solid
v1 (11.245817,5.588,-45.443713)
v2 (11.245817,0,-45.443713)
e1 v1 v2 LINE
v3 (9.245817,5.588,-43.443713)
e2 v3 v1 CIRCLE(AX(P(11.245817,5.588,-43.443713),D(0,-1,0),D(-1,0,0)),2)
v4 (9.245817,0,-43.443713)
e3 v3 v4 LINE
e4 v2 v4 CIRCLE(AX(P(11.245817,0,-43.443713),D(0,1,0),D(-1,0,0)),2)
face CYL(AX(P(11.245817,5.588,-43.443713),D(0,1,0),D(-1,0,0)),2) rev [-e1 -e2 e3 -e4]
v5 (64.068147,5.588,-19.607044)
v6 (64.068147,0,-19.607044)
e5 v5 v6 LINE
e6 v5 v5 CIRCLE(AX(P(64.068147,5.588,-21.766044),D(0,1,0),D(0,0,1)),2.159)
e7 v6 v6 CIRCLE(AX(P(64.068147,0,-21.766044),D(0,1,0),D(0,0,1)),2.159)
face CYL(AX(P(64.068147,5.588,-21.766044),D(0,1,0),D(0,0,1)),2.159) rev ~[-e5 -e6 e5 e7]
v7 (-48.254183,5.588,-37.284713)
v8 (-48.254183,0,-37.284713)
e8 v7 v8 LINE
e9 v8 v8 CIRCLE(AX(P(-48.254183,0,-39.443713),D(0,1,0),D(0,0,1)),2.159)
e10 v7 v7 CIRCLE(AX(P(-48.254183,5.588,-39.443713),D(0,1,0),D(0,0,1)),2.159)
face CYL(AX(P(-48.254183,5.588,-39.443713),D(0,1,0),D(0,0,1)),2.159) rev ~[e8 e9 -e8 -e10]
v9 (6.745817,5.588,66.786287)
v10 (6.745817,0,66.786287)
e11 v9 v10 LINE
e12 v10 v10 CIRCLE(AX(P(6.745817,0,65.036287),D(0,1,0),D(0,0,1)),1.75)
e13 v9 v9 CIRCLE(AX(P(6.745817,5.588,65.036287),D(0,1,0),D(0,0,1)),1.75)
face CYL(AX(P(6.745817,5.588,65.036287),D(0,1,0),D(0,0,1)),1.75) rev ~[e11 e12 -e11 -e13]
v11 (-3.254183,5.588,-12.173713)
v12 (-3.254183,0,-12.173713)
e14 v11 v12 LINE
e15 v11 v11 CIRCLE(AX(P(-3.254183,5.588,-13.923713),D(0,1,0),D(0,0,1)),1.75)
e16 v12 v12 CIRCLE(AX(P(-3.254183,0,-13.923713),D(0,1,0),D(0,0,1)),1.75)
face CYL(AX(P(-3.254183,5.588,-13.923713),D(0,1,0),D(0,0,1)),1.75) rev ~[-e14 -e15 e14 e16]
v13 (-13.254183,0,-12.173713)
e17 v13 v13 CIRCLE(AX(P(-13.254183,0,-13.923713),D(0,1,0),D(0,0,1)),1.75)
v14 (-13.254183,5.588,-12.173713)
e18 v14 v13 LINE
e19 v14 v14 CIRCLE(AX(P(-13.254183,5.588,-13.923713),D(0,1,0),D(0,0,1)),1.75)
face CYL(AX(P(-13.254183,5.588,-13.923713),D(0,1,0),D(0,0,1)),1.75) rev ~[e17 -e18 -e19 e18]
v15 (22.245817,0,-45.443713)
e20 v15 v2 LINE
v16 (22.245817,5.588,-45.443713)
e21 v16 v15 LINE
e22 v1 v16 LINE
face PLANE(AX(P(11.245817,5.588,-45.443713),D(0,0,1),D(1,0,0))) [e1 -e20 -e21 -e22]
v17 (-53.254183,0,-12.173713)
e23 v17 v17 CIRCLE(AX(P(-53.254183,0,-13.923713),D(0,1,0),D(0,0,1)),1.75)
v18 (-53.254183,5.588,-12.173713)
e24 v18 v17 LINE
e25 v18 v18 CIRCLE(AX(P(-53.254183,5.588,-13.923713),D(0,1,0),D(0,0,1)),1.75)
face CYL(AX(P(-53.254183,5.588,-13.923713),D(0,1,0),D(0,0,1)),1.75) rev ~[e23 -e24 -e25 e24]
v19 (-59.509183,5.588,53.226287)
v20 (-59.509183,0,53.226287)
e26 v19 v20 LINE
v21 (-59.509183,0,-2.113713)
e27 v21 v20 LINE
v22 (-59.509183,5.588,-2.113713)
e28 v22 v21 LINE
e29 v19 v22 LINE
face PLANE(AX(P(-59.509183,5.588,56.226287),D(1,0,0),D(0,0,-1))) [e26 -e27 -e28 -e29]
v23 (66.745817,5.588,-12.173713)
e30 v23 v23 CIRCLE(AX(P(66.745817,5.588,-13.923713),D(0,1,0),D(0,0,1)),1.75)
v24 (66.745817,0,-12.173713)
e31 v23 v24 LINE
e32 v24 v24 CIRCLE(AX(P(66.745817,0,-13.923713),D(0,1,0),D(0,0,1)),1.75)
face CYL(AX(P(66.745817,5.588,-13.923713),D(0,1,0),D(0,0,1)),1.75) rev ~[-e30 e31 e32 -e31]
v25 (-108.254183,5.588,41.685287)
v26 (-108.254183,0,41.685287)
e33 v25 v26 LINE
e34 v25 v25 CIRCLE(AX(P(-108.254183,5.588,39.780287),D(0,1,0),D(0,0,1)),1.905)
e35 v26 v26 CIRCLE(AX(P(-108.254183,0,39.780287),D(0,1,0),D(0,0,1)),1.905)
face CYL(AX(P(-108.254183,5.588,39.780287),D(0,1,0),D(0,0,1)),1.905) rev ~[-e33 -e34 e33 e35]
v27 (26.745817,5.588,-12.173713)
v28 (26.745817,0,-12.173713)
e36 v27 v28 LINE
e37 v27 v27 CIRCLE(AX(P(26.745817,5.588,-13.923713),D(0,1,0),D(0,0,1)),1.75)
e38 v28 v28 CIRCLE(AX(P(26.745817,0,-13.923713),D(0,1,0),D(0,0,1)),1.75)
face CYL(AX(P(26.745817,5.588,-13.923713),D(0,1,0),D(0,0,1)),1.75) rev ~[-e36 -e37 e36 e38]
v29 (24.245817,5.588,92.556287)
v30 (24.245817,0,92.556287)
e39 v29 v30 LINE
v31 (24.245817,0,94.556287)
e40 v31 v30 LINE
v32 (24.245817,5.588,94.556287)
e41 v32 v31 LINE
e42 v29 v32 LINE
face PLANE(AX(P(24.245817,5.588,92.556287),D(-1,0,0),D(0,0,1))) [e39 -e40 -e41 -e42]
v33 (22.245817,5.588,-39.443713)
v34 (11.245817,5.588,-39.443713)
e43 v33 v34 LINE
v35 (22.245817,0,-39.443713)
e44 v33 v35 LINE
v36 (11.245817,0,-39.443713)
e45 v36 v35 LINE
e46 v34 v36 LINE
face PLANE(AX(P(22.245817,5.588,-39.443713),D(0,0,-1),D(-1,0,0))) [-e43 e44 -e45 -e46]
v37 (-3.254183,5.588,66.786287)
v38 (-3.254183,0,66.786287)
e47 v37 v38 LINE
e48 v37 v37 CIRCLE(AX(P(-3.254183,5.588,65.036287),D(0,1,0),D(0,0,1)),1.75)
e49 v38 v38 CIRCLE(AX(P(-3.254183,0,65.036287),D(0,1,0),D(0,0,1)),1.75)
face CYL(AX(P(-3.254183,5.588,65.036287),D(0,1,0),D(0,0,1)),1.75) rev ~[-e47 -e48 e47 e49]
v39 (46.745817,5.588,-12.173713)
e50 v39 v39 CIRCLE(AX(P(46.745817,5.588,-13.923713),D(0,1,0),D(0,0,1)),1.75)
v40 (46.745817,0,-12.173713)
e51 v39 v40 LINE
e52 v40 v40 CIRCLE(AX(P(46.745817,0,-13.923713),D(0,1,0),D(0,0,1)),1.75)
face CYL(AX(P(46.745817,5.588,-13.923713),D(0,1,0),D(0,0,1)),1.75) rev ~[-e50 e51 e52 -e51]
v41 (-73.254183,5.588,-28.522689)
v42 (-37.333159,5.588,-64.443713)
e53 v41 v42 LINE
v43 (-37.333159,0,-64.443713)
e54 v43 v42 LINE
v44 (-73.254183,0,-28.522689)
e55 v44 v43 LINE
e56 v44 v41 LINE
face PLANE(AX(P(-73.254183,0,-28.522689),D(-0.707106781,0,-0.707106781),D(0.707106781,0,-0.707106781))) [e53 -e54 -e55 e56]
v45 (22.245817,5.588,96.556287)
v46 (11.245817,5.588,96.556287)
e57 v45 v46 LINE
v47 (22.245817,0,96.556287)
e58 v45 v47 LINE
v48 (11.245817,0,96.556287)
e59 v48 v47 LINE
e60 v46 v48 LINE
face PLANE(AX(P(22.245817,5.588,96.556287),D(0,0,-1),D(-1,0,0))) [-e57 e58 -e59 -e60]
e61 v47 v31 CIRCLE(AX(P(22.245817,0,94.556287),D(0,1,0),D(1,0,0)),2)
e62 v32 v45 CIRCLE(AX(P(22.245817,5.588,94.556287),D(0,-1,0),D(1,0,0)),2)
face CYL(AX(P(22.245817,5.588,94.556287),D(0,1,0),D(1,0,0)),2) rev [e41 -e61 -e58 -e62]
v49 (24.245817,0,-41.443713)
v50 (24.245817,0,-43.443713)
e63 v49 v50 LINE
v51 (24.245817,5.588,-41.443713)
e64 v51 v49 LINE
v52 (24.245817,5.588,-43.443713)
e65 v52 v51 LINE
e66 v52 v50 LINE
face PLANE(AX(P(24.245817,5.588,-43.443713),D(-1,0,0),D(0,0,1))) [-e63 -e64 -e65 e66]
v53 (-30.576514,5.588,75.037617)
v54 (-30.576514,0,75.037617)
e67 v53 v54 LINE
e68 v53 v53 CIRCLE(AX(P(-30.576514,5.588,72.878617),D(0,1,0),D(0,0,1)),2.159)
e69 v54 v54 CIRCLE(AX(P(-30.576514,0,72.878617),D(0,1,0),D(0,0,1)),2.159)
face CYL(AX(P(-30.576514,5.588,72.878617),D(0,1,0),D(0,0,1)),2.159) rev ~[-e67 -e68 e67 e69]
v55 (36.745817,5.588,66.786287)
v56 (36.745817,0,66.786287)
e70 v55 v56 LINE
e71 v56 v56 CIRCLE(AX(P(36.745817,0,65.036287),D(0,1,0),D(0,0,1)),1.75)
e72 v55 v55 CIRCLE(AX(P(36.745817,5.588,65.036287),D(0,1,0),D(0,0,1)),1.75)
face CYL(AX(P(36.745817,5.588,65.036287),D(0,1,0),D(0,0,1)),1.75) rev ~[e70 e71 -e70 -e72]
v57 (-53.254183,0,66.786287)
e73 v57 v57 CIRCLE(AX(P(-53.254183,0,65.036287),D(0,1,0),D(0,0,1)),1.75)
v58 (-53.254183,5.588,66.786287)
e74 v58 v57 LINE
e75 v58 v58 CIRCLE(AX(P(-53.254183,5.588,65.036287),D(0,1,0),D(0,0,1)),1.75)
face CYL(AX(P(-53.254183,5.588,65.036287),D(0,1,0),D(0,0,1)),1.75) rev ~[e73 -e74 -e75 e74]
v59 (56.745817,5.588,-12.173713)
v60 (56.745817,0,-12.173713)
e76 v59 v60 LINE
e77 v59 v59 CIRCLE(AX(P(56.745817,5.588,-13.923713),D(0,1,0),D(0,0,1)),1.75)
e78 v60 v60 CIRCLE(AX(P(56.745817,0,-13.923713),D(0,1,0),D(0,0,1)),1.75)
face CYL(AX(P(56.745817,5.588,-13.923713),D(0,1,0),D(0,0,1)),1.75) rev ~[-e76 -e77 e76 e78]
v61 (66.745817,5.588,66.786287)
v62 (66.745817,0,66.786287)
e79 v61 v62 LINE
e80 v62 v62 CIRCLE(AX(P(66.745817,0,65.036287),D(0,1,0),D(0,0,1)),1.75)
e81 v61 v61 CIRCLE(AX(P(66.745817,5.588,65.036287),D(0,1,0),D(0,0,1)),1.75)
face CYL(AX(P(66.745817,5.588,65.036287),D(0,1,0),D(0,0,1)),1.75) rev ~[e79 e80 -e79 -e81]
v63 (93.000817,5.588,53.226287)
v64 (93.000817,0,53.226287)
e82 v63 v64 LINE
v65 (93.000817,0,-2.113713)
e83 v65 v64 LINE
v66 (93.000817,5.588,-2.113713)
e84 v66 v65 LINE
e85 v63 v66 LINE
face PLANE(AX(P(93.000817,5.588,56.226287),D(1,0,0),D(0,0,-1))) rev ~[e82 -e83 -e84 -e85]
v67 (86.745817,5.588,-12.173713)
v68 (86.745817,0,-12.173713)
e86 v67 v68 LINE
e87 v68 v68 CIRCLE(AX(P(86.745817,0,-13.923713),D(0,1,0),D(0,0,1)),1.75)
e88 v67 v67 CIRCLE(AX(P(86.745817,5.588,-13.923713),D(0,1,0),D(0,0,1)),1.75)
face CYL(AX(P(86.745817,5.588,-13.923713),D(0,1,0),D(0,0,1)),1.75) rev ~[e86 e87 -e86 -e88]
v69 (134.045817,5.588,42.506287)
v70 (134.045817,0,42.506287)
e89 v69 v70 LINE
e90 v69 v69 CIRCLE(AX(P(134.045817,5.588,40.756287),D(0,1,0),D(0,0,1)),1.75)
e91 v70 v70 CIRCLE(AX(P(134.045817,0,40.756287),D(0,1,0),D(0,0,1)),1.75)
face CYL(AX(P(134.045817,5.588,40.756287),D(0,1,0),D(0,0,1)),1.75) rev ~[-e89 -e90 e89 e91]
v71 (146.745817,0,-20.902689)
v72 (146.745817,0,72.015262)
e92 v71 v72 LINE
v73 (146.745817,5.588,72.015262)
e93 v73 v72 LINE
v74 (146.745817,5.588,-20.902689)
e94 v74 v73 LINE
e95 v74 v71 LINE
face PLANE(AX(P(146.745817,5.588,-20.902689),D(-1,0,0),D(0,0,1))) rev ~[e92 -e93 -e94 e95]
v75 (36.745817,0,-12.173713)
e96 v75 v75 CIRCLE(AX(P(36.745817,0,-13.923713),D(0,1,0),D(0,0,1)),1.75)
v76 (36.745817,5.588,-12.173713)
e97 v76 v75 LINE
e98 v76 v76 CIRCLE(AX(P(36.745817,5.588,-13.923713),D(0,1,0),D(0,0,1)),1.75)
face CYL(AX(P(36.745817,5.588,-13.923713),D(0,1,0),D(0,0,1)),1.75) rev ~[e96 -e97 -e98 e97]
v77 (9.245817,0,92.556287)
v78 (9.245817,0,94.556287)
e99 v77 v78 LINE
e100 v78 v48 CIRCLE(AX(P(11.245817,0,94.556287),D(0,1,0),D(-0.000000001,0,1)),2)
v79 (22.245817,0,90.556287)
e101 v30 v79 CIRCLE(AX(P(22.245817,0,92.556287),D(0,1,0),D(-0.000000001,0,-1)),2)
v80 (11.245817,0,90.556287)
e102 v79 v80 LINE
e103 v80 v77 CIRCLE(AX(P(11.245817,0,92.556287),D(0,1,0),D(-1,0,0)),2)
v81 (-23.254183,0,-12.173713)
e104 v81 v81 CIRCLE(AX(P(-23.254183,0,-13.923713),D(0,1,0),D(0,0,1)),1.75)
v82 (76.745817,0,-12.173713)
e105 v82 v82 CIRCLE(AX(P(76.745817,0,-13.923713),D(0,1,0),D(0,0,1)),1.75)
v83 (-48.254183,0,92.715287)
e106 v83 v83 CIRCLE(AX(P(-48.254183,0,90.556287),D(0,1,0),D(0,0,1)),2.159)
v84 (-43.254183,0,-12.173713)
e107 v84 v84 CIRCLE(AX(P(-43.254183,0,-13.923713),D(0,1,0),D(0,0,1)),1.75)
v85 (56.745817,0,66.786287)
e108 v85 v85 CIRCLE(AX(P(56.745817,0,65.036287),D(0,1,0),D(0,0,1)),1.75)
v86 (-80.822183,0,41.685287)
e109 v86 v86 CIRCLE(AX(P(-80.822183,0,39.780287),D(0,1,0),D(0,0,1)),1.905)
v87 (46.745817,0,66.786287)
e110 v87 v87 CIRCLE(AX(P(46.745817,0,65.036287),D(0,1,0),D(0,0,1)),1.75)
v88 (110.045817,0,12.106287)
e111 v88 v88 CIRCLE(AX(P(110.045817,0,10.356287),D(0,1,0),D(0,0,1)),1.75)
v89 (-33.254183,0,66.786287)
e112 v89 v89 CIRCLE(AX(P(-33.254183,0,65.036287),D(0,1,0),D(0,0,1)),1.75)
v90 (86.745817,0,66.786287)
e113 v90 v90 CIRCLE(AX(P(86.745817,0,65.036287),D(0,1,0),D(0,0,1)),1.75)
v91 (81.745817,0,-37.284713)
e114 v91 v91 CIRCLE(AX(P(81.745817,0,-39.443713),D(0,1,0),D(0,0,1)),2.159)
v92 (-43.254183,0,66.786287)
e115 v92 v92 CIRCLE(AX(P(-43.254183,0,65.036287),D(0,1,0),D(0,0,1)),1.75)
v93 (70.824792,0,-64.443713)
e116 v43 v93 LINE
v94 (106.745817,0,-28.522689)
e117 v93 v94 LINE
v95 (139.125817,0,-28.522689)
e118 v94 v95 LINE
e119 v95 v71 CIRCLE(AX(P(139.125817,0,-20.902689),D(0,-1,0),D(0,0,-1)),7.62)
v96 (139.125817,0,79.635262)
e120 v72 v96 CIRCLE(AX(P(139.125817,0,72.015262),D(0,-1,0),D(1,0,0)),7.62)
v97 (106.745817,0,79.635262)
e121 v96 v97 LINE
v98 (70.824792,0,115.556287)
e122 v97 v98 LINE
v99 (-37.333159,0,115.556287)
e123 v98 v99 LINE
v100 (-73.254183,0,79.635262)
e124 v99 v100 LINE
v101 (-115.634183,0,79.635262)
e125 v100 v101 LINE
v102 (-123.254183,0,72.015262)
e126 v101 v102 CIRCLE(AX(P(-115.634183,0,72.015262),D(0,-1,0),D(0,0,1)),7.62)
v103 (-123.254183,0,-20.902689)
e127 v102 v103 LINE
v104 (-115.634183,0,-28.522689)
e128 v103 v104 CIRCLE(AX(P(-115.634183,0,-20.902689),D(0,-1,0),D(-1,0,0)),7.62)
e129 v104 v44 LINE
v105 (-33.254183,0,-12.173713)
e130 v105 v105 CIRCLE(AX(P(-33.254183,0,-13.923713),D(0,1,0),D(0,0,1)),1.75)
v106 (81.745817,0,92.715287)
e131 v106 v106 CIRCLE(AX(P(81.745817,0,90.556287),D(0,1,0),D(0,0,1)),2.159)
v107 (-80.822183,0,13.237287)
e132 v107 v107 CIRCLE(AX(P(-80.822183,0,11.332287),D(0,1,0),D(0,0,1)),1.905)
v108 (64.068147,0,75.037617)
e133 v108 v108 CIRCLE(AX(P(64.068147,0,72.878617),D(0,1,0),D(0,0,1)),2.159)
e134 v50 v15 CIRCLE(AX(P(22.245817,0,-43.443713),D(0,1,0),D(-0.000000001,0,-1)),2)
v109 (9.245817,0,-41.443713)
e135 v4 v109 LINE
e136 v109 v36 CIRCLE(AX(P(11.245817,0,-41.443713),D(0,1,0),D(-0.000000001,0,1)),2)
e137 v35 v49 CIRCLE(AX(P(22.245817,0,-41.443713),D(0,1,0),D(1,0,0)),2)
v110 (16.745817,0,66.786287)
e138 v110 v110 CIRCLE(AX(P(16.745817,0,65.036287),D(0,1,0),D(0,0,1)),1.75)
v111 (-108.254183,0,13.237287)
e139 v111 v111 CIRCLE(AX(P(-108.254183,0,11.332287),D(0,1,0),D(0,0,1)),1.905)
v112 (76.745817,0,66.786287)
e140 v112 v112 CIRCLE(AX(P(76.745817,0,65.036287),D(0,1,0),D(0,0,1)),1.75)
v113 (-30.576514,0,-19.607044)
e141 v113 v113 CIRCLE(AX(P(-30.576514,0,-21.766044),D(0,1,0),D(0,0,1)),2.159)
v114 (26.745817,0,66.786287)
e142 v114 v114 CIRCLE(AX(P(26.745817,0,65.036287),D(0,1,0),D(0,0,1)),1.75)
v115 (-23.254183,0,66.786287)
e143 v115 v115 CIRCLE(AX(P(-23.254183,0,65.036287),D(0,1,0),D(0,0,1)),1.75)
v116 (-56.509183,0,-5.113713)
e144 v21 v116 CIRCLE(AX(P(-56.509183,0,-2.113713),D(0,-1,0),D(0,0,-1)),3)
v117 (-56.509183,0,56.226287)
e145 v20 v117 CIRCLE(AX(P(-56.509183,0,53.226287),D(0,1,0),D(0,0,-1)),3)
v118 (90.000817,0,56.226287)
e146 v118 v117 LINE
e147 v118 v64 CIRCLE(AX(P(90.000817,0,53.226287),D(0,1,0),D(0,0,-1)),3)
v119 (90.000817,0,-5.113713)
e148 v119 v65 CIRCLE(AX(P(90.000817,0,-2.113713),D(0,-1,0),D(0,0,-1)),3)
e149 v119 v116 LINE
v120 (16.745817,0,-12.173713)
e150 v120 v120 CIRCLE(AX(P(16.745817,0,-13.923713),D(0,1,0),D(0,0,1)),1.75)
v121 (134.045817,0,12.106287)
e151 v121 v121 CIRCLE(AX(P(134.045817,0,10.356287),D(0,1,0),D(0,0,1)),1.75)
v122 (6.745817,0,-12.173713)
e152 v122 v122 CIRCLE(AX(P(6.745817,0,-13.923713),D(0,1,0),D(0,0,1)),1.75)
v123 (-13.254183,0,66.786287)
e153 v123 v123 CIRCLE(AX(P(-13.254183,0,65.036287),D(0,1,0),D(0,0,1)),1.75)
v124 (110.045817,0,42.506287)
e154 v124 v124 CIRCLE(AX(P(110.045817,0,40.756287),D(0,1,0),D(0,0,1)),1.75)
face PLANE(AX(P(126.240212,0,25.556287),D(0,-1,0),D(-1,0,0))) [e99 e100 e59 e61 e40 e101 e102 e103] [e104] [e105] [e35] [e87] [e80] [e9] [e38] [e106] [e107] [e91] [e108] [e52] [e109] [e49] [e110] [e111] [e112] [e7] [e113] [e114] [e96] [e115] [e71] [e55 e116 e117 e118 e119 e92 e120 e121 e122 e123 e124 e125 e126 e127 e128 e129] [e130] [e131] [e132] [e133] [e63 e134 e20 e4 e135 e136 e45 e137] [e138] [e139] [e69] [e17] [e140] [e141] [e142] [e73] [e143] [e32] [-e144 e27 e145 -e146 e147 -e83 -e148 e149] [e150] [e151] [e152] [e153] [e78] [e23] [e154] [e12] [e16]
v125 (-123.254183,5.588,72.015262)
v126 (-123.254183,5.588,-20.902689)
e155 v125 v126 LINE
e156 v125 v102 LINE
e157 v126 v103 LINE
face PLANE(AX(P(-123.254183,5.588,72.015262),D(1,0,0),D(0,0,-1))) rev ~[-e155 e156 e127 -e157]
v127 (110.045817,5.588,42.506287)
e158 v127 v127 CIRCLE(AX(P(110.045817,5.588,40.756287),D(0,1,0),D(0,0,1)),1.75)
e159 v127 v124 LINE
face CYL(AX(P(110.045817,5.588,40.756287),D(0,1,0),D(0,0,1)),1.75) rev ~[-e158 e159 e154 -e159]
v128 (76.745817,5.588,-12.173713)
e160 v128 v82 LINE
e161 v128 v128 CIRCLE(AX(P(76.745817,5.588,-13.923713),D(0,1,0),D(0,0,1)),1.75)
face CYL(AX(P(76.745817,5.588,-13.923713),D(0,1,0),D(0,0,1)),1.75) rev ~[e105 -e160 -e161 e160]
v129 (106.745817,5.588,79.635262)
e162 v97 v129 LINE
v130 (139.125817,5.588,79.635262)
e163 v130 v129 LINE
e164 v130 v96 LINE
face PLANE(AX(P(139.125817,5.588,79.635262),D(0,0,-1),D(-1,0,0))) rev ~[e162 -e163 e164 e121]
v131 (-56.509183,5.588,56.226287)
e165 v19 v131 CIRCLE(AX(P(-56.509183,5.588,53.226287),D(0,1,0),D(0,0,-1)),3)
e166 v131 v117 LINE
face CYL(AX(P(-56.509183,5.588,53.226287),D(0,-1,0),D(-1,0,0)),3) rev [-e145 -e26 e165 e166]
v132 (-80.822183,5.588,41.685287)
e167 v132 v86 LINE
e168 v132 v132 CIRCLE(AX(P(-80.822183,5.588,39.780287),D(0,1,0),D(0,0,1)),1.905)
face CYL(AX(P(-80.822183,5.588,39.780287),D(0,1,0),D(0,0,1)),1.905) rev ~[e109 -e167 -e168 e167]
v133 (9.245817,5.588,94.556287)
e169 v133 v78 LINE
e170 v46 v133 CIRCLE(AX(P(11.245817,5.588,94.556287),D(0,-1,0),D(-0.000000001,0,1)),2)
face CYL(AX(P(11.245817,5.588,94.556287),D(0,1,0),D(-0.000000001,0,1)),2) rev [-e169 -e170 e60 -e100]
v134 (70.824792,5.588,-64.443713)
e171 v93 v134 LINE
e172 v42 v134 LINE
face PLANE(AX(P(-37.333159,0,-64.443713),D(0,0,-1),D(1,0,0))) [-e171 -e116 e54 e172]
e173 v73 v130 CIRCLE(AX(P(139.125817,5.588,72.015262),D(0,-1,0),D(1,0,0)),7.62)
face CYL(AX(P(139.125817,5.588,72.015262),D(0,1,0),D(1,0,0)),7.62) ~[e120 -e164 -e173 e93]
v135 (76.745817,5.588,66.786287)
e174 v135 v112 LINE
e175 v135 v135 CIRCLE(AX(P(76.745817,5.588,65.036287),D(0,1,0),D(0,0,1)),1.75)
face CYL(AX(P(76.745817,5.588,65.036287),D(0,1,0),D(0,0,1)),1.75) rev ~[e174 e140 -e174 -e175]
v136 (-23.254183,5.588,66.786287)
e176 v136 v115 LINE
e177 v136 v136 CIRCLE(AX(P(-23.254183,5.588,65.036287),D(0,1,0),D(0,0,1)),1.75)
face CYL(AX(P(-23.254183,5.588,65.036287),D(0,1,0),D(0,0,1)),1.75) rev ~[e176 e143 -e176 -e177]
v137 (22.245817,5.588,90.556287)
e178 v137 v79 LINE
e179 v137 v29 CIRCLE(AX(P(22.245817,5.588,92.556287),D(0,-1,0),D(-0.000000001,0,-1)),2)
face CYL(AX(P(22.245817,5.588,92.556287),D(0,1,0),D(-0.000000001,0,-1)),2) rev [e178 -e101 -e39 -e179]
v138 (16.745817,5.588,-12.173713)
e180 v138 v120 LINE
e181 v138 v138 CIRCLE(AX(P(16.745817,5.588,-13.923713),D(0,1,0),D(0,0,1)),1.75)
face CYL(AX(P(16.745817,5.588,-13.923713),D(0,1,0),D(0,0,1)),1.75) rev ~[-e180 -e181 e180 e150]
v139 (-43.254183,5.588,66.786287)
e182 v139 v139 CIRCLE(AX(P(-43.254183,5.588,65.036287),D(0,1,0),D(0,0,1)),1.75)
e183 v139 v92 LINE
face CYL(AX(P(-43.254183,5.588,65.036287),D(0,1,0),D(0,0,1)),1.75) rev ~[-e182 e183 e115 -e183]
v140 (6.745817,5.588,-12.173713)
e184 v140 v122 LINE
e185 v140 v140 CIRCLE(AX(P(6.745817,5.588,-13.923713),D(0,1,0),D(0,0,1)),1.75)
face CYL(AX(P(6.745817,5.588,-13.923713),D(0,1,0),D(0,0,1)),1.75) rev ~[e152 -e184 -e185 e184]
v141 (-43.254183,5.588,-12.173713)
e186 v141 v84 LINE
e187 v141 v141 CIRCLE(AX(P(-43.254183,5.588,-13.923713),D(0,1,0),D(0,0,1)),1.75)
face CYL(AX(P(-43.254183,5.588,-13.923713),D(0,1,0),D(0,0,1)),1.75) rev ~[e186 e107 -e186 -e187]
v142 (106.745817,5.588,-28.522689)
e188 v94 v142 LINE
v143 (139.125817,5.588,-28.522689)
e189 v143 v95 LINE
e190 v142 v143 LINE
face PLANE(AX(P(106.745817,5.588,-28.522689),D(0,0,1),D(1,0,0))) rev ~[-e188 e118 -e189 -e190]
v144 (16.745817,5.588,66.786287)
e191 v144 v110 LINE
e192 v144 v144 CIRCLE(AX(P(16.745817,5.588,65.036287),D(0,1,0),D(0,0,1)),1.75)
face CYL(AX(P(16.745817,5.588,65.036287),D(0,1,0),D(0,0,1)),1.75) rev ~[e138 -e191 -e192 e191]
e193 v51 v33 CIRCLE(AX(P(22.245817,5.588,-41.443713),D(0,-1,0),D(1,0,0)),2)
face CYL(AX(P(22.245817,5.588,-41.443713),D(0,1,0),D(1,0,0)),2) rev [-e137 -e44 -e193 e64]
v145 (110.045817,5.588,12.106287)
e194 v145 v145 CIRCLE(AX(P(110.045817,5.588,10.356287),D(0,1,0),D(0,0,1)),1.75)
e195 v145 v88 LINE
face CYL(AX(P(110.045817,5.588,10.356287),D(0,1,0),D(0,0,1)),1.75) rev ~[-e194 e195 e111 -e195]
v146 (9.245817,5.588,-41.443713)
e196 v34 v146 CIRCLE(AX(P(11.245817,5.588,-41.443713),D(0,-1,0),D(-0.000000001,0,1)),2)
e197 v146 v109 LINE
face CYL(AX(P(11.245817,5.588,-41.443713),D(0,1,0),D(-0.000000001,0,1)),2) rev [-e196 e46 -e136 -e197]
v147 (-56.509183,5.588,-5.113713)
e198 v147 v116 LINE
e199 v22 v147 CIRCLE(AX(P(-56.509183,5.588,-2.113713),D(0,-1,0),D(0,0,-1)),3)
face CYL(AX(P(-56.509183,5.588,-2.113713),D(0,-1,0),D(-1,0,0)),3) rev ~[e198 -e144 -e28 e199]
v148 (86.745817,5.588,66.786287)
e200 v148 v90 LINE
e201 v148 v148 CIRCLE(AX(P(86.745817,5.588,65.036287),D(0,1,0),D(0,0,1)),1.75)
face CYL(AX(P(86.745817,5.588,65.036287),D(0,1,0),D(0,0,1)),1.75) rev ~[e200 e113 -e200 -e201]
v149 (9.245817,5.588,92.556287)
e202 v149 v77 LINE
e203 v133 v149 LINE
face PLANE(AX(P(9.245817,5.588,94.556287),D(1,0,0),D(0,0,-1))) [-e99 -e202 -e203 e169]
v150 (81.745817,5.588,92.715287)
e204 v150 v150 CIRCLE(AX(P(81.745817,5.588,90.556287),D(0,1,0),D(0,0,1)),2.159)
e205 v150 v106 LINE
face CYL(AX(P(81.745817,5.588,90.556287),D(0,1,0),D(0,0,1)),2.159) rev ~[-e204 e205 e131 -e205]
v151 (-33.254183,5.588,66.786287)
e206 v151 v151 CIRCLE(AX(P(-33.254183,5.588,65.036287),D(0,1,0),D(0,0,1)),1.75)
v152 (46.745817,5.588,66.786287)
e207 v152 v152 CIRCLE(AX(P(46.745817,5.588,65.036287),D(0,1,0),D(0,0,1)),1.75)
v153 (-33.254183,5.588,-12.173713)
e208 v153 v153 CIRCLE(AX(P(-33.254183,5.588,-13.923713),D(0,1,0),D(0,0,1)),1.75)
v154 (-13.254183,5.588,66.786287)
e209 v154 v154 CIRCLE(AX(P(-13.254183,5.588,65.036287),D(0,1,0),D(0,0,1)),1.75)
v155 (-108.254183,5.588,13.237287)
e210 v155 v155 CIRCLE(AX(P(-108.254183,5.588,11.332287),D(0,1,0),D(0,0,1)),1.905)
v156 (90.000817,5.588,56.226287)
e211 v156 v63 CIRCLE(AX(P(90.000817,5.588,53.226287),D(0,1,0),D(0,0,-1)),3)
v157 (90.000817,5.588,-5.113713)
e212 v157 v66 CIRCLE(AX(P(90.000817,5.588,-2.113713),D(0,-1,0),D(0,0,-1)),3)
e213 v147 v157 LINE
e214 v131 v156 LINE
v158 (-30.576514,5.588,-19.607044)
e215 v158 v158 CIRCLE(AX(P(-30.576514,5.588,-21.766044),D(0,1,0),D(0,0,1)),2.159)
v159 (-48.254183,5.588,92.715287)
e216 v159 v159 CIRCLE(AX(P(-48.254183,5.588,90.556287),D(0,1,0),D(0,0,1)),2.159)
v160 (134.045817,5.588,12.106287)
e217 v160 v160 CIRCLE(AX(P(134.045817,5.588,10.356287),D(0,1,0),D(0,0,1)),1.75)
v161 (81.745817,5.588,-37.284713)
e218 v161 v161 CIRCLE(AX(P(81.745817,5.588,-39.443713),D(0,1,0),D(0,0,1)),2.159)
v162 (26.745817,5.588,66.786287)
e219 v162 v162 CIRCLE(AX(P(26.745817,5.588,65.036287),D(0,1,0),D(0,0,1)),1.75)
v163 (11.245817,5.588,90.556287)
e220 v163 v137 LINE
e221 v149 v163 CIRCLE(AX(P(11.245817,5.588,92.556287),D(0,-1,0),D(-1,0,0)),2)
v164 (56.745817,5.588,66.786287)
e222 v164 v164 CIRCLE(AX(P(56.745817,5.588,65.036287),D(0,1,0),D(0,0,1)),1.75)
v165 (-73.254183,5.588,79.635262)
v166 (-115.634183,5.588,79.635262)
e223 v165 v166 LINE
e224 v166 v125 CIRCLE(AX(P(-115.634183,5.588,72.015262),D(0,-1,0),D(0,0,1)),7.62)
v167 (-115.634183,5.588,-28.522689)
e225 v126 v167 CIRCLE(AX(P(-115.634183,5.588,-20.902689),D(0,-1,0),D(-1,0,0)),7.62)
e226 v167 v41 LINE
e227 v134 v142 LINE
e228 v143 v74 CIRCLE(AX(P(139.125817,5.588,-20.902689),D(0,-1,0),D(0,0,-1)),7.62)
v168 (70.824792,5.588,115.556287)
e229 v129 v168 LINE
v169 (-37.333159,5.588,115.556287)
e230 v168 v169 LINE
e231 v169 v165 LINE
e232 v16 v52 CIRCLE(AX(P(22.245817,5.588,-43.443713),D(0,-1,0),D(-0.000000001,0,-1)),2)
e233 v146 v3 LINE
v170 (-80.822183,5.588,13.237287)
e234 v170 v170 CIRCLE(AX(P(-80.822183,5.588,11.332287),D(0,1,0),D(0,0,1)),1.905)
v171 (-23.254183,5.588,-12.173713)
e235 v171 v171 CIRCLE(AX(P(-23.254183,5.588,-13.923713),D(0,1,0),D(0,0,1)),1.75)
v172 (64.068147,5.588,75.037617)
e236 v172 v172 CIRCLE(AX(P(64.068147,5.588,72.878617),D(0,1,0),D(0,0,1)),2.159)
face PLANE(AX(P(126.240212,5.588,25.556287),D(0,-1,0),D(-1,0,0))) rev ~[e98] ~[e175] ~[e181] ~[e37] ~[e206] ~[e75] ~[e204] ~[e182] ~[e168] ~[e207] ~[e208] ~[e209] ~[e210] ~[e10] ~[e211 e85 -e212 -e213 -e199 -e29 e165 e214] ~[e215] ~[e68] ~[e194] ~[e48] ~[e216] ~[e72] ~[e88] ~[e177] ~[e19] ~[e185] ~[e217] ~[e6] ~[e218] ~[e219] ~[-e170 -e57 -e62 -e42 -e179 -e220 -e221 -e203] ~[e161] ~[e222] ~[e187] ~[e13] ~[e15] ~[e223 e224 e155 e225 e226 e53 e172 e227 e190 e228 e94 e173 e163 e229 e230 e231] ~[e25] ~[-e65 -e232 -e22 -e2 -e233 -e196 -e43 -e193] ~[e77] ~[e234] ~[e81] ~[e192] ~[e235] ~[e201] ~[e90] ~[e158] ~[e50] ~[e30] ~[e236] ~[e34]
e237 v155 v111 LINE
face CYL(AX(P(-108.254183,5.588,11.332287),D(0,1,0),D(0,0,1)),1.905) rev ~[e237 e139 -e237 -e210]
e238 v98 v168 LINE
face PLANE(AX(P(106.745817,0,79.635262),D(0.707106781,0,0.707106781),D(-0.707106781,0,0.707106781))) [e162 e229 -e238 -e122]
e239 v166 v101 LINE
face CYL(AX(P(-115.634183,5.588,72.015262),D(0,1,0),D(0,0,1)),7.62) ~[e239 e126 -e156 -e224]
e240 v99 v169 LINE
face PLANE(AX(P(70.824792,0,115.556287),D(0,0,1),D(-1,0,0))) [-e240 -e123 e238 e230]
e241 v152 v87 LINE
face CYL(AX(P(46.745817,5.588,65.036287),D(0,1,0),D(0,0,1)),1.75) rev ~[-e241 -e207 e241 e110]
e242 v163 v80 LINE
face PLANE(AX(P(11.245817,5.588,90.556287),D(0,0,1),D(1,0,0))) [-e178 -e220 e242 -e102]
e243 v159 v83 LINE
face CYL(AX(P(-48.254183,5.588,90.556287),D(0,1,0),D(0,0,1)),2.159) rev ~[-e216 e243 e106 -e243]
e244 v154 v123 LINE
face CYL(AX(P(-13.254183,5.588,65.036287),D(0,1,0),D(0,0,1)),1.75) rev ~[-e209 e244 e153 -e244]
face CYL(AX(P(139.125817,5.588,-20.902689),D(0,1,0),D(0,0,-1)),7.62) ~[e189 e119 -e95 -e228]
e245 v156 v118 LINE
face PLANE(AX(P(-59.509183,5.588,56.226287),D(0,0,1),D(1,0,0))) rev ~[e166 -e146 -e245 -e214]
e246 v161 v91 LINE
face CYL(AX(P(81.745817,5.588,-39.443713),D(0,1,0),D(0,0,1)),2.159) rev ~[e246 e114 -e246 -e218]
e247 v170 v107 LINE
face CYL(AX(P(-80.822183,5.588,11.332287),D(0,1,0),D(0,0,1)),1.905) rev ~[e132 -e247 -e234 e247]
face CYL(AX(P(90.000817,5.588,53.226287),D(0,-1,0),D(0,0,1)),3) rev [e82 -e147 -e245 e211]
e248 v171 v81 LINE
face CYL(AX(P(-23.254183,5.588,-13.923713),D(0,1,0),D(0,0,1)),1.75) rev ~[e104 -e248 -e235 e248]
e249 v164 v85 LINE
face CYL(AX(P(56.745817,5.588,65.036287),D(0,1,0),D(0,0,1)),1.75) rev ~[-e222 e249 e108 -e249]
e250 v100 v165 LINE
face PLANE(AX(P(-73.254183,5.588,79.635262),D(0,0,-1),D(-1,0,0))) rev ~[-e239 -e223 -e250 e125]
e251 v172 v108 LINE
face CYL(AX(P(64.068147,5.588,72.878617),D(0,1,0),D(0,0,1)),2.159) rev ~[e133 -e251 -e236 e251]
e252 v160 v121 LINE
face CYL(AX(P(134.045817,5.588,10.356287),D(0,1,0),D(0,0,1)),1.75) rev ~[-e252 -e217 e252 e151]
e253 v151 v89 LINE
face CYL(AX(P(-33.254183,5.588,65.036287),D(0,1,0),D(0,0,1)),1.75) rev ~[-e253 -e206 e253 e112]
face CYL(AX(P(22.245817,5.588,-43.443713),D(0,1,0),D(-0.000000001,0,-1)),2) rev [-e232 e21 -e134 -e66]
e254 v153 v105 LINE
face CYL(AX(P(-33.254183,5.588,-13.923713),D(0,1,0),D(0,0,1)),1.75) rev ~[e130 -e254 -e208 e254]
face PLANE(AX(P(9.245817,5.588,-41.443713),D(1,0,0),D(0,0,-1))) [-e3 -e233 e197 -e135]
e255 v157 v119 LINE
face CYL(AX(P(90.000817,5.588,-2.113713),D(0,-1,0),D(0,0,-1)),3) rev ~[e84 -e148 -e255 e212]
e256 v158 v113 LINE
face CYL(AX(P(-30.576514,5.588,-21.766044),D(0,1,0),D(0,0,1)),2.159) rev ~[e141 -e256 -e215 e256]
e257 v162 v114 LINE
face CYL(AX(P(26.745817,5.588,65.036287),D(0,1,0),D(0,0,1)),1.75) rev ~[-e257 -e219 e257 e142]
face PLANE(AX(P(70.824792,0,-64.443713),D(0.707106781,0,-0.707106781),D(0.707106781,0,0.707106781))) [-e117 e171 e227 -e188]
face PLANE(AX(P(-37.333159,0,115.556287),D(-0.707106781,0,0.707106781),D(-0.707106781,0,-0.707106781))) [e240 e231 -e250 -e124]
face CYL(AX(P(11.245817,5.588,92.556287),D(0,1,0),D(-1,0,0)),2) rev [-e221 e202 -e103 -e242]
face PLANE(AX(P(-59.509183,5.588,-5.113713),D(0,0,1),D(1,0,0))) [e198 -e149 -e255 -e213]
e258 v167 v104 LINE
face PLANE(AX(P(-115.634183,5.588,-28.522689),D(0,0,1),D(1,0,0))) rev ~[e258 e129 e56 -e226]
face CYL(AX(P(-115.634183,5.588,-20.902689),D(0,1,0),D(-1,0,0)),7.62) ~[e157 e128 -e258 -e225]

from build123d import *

# Parameters (mm, degrees)
BOSS_EXTRUDE1_DEPTH = 5.588
SKETCH2_R           = 2.159
CUT_EXTRUDE1_DEPTH  = 158.413946399
SKETCH3_W           = 152.51
SKETCH3_H           = 61.34
CUT_EXTRUDE2_DEPTH  = 158.413946399
BOSS_EXTRUDE2_DEPTH = 5.588
BOSS_EXTRUDE3_DEPTH = 5.588
SKETCH7_R           = 1.75
CUT_EXTRUDE4_DEPTH  = 187.865769606
SKETCH9_R           = 1.75
CUT_EXTRUDE8_DEPTH  = 187.865769606
CUT_EXTRUDE9_DEPTH  = 187.865769606
FILLET1_R           = 3
SKETCH11_R          = 1.905
CUT_EXTRUDE10_DEPTH = 187.865769606


with BuildPart() as part:
    # Sketch1 → Boss-Extrude1 (new body)
    with BuildSketch(Plane(origin=(0, 0, 0), x_dir=(1, 0, 0), z_dir=(0, 1, 0))):
        Polygon((-73.254183378, 28.522688753), (-37.333158894, 64.443713237), (70.824792138, 64.443713237), (106.745816622, 28.522688753), (106.745816622, -79.635262279), (70.824792138, -115.556286763), (-37.333158894, -115.556286763), (-73.254183378, -79.635262279), align=None)
    extrude(amount=BOSS_EXTRUDE1_DEPTH)

    # Sketch2 → Cut-Extrude1 (cut, through all)
    with BuildSketch(Plane(origin=(0, 5.588, 0), x_dir=(1, 0, 0), z_dir=(0, 1, 0))):
        with Locations(Location((-48.254183378, 39.443713237, 0), (0, 0, 270))):
            Circle(SKETCH2_R)
        with Locations(Location((-30.576513848, 21.766043708, 0), (0, 0, 270))):
            Circle(SKETCH2_R)
        with Locations(Location((-48.254183378, -90.556286763, 0), (0, 0, 270))):
            Circle(SKETCH2_R)
        with Locations(Location((-30.576513848, -72.878617233, 0), (0, 0, 270))):
            Circle(SKETCH2_R)
        with Locations(Location((64.068147093, 21.766043708, 0), (0, 0, 270))):
            Circle(SKETCH2_R)
        with Locations(Location((81.745816622, 39.443713237, 0), (0, 0, 270))):
            Circle(SKETCH2_R)
        with Locations(Location((64.068147093, -72.878617233, 0), (0, 0, 270))):
            Circle(SKETCH2_R)
        with Locations(Location((81.745816622, -90.556286763, 0), (0, 0, 270))):
            Circle(SKETCH2_R)
    extrude(amount=-CUT_EXTRUDE1_DEPTH, mode=Mode.SUBTRACT)

    # Sketch3 → Cut-Extrude2 (cut, through all)
    with BuildSketch(Plane(origin=(0, 5.588, 0), x_dir=(1, 0, 0), z_dir=(0, 1, 0))):
        with Locations((16.745816622, -25.556286763)):
            Rectangle(SKETCH3_W, SKETCH3_H)
    extrude(amount=-CUT_EXTRUDE2_DEPTH, mode=Mode.SUBTRACT)

    # Sketch5 → Boss-Extrude2 (add)
    with BuildSketch(Plane(origin=(0, 5.588, 0), x_dir=(1, 0, 0), z_dir=(0, 1, 0))):
        with BuildLine():
            Line((-73.254183378, -79.635262279), (-115.634183378, -79.635262279))
            ThreePointArc((-115.634183378, -79.635262279), (-121.02233705, -77.403415951), (-123.254183378, -72.015262279))
            Line((-123.254183378, -72.015262279), (-123.254183378, 20.902688753))
            ThreePointArc((-123.254183378, 20.902688753), (-121.02233705, 26.290842426), (-115.634183378, 28.522688753))
            Line((-115.634183378, 28.522688753), (-73.254183378, 28.522688753))
            Line((-73.254183378, 28.522688753), (-73.254183378, -79.635262279))
        make_face()
    extrude(amount=-BOSS_EXTRUDE2_DEPTH)

    # Sketch6 → Boss-Extrude3 (add)
    with BuildSketch(Plane(origin=(0, 5.588, 0), x_dir=(1, 0, 0), z_dir=(0, 1, 0))):
        with BuildLine():
            Line((106.745816622, 28.522688753), (139.125816622, 28.522688753))
            ThreePointArc((139.125816622, 28.522688753), (144.513970295, 26.290842426), (146.745816622, 20.902688753))
            Line((146.745816622, 20.902688753), (146.745816622, -72.015262279))
            ThreePointArc((146.745816622, -72.015262279), (144.513970295, -77.403415951), (139.125816622, -79.635262279))
            Line((139.125816622, -79.635262279), (106.745816622, -79.635262279))
            Line((106.745816622, -79.635262279), (106.745816622, 28.522688753))
        make_face()
    extrude(amount=-BOSS_EXTRUDE3_DEPTH)

    # Sketch7 → Cut-Extrude4 (cut, through all)
    with BuildSketch(Plane(origin=(0, 5.588, 0), x_dir=(1, 0, 0), z_dir=(0, 1, 0))):
        with Locations(Location((110.045816622, -10.356286763, 0), (0, 0, 270))):
            Circle(SKETCH7_R)
        with Locations(Location((134.045816622, -10.356286763, 0), (0, 0, 270))):
            Circle(SKETCH7_R)
        with Locations(Location((110.045816622, -40.756286763, 0), (0, 0, 270))):
            Circle(SKETCH7_R)
        with Locations(Location((134.045816622, -40.756286763, 0), (0, 0, 270))):
            Circle(SKETCH7_R)
    extrude(amount=-CUT_EXTRUDE4_DEPTH, mode=Mode.SUBTRACT)

    # Sketch9 → Cut-Extrude8 (cut, through all)
    with BuildSketch(Plane(origin=(0, 5.588, 0), x_dir=(1, 0, 0), z_dir=(0, 1, 0))):
        with Locations(Location((-53.254183378, 13.923713237, 0), (0, 0, 270))):
            Circle(SKETCH9_R)
        with Locations(Location((-43.254183378, 13.923713237, 0), (0, 0, 270))):
            Circle(SKETCH9_R)
        with Locations(Location((-33.254183378, 13.923713237, 0), (0, 0, 270))):
            Circle(SKETCH9_R)
        with Locations(Location((-23.254183378, 13.923713237, 0), (0, 0, 270))):
            Circle(SKETCH9_R)
        with Locations(Location((-13.254183378, 13.923713237, 0), (0, 0, 270))):
            Circle(SKETCH9_R)
        with Locations(Location((-3.254183378, 13.923713237, 0), (0, 0, 270))):
            Circle(SKETCH9_R)
        with Locations(Location((6.745816622, 13.923713237, 0), (0, 0, 270))):
            Circle(SKETCH9_R)
        with Locations(Location((16.745816622, 13.923713237, 0), (0, 0, 270))):
            Circle(SKETCH9_R)
        with Locations(Location((26.745816622, 13.923713237, 0), (0, 0, 270))):
            Circle(SKETCH9_R)
        with Locations(Location((36.745816622, 13.923713237, 0), (0, 0, 270))):
            Circle(SKETCH9_R)
        with Locations(Location((46.745816622, 13.923713237, 0), (0, 0, 270))):
            Circle(SKETCH9_R)
        with Locations(Location((56.745816622, 13.923713237, 0), (0, 0, 270))):
            Circle(SKETCH9_R)
        with Locations(Location((66.745816622, 13.923713237, 0), (0, 0, 270))):
            Circle(SKETCH9_R)
        with Locations(Location((76.745816622, 13.923713237, 0), (0, 0, 270))):
            Circle(SKETCH9_R)
        with Locations(Location((86.745816622, 13.923713237, 0), (0, 0, 270))):
            Circle(SKETCH9_R)
        with Locations(Location((-53.254183378, -65.036286763, 0), (0, 0, 270))):
            Circle(SKETCH9_R)
        with Locations(Location((-43.254183378, -65.036286763, 0), (0, 0, 270))):
            Circle(SKETCH9_R)
        with Locations(Location((-33.254183378, -65.036286763, 0), (0, 0, 270))):
            Circle(SKETCH9_R)
        with Locations(Location((-23.254183378, -65.036286763, 0), (0, 0, 270))):
            Circle(SKETCH9_R)
        with Locations(Location((-13.254183378, -65.036286763, 0), (0, 0, 270))):
            Circle(SKETCH9_R)
        with Locations(Location((-3.254183378, -65.036286763, 0), (0, 0, 270))):
            Circle(SKETCH9_R)
        with Locations(Location((6.745816622, -65.036286763, 0), (0, 0, 270))):
            Circle(SKETCH9_R)
        with Locations(Location((16.745816622, -65.036286763, 0), (0, 0, 270))):
            Circle(SKETCH9_R)
        with Locations(Location((26.745816622, -65.036286763, 0), (0, 0, 270))):
            Circle(SKETCH9_R)
        with Locations(Location((36.745816622, -65.036286763, 0), (0, 0, 270))):
            Circle(SKETCH9_R)
        with Locations(Location((46.745816622, -65.036286763, 0), (0, 0, 270))):
            Circle(SKETCH9_R)
        with Locations(Location((56.745816622, -65.036286763, 0), (0, 0, 270))):
            Circle(SKETCH9_R)
        with Locations(Location((66.745816622, -65.036286763, 0), (0, 0, 270))):
            Circle(SKETCH9_R)
        with Locations(Location((76.745816622, -65.036286763, 0), (0, 0, 270))):
            Circle(SKETCH9_R)
        with Locations(Location((86.745816622, -65.036286763, 0), (0, 0, 270))):
            Circle(SKETCH9_R)
    extrude(amount=-CUT_EXTRUDE8_DEPTH, mode=Mode.SUBTRACT)

    # Sketch10 → Cut-Extrude9 (cut, through all)
    with BuildSketch(Plane(origin=(0, 5.588, 0), x_dir=(1, 0, 0), z_dir=(0, 1, 0))):
        with BuildLine():
            Line((11.245816622, 45.443713237), (22.245816622, 45.443713237))
            ThreePointArc((22.245816622, 45.443713237), (23.660030185, 44.8579268), (24.245816622, 43.443713237))
            Line((24.245816622, 43.443713237), (24.245816622, 41.443713237))
            ThreePointArc((24.245816622, 41.443713237), (23.660030185, 40.029499675), (22.245816622, 39.443713237))
            Line((22.245816622, 39.443713237), (11.245816622, 39.443713237))
            ThreePointArc((11.245816622, 39.443713237), (9.83160306, 40.029499675), (9.245816622, 41.443713237))
            Line((9.245816622, 41.443713237), (9.245816622, 43.443713237))
            ThreePointArc((9.245816622, 43.443713237), (9.83160306, 44.8579268), (11.245816622, 45.443713237))
        make_face()
        with BuildLine():
            Line((11.245816622, -90.556286763), (22.245816622, -90.556286763))
            ThreePointArc((22.245816622, -90.556286763), (23.660030185, -91.1420732), (24.245816622, -92.556286763))
            Line((24.245816622, -92.556286763), (24.245816622, -94.556286763))
            ThreePointArc((24.245816622, -94.556286763), (23.660030185, -95.970500325), (22.245816622, -96.556286763))
            Line((22.245816622, -96.556286763), (11.245816622, -96.556286763))
            ThreePointArc((11.245816622, -96.556286763), (9.83160306, -95.970500325), (9.245816622, -94.556286763))
            Line((9.245816622, -94.556286763), (9.245816622, -92.556286763))
            ThreePointArc((9.245816622, -92.556286763), (9.83160306, -91.1420732), (11.245816622, -90.556286763))
        make_face()
    extrude(amount=-CUT_EXTRUDE9_DEPTH, mode=Mode.SUBTRACT)

    # Fillet1
    fillet1_edges = [part.edges().sort_by_distance(p)[0] for p in [
        (-59.509183378, 2.794, 56.226286763),
        (-59.509183378, 2.794, -5.113713237),
        (93.000816622, 2.794, -5.113713237),
        (93.000816622, 2.794, 56.226286763),
    ]]
    fillet(fillet1_edges, radius=FILLET1_R)

    # Sketch11 → Cut-Extrude10 (cut, through all)
    with BuildSketch(Plane(origin=(0, 5.588, 0), x_dir=(1, 0, 0), z_dir=(0, 1, 0))):
        with Locations(Location((-108.254183378, -11.332286763, 0), (0, 0, 270))):
            Circle(SKETCH11_R)
        with Locations(Location((-80.822183378, -11.332286763, 0), (0, 0, 270))):
            Circle(SKETCH11_R)
        with Locations(Location((-80.822183378, -39.780286763, 0), (0, 0, 270))):
            Circle(SKETCH11_R)
        with Locations(Location((-108.254183378, -39.780286763, 0), (0, 0, 270))):
            Circle(SKETCH11_R)
    extrude(amount=-CUT_EXTRUDE10_DEPTH, mode=Mode.SUBTRACT)


solid = part.part
